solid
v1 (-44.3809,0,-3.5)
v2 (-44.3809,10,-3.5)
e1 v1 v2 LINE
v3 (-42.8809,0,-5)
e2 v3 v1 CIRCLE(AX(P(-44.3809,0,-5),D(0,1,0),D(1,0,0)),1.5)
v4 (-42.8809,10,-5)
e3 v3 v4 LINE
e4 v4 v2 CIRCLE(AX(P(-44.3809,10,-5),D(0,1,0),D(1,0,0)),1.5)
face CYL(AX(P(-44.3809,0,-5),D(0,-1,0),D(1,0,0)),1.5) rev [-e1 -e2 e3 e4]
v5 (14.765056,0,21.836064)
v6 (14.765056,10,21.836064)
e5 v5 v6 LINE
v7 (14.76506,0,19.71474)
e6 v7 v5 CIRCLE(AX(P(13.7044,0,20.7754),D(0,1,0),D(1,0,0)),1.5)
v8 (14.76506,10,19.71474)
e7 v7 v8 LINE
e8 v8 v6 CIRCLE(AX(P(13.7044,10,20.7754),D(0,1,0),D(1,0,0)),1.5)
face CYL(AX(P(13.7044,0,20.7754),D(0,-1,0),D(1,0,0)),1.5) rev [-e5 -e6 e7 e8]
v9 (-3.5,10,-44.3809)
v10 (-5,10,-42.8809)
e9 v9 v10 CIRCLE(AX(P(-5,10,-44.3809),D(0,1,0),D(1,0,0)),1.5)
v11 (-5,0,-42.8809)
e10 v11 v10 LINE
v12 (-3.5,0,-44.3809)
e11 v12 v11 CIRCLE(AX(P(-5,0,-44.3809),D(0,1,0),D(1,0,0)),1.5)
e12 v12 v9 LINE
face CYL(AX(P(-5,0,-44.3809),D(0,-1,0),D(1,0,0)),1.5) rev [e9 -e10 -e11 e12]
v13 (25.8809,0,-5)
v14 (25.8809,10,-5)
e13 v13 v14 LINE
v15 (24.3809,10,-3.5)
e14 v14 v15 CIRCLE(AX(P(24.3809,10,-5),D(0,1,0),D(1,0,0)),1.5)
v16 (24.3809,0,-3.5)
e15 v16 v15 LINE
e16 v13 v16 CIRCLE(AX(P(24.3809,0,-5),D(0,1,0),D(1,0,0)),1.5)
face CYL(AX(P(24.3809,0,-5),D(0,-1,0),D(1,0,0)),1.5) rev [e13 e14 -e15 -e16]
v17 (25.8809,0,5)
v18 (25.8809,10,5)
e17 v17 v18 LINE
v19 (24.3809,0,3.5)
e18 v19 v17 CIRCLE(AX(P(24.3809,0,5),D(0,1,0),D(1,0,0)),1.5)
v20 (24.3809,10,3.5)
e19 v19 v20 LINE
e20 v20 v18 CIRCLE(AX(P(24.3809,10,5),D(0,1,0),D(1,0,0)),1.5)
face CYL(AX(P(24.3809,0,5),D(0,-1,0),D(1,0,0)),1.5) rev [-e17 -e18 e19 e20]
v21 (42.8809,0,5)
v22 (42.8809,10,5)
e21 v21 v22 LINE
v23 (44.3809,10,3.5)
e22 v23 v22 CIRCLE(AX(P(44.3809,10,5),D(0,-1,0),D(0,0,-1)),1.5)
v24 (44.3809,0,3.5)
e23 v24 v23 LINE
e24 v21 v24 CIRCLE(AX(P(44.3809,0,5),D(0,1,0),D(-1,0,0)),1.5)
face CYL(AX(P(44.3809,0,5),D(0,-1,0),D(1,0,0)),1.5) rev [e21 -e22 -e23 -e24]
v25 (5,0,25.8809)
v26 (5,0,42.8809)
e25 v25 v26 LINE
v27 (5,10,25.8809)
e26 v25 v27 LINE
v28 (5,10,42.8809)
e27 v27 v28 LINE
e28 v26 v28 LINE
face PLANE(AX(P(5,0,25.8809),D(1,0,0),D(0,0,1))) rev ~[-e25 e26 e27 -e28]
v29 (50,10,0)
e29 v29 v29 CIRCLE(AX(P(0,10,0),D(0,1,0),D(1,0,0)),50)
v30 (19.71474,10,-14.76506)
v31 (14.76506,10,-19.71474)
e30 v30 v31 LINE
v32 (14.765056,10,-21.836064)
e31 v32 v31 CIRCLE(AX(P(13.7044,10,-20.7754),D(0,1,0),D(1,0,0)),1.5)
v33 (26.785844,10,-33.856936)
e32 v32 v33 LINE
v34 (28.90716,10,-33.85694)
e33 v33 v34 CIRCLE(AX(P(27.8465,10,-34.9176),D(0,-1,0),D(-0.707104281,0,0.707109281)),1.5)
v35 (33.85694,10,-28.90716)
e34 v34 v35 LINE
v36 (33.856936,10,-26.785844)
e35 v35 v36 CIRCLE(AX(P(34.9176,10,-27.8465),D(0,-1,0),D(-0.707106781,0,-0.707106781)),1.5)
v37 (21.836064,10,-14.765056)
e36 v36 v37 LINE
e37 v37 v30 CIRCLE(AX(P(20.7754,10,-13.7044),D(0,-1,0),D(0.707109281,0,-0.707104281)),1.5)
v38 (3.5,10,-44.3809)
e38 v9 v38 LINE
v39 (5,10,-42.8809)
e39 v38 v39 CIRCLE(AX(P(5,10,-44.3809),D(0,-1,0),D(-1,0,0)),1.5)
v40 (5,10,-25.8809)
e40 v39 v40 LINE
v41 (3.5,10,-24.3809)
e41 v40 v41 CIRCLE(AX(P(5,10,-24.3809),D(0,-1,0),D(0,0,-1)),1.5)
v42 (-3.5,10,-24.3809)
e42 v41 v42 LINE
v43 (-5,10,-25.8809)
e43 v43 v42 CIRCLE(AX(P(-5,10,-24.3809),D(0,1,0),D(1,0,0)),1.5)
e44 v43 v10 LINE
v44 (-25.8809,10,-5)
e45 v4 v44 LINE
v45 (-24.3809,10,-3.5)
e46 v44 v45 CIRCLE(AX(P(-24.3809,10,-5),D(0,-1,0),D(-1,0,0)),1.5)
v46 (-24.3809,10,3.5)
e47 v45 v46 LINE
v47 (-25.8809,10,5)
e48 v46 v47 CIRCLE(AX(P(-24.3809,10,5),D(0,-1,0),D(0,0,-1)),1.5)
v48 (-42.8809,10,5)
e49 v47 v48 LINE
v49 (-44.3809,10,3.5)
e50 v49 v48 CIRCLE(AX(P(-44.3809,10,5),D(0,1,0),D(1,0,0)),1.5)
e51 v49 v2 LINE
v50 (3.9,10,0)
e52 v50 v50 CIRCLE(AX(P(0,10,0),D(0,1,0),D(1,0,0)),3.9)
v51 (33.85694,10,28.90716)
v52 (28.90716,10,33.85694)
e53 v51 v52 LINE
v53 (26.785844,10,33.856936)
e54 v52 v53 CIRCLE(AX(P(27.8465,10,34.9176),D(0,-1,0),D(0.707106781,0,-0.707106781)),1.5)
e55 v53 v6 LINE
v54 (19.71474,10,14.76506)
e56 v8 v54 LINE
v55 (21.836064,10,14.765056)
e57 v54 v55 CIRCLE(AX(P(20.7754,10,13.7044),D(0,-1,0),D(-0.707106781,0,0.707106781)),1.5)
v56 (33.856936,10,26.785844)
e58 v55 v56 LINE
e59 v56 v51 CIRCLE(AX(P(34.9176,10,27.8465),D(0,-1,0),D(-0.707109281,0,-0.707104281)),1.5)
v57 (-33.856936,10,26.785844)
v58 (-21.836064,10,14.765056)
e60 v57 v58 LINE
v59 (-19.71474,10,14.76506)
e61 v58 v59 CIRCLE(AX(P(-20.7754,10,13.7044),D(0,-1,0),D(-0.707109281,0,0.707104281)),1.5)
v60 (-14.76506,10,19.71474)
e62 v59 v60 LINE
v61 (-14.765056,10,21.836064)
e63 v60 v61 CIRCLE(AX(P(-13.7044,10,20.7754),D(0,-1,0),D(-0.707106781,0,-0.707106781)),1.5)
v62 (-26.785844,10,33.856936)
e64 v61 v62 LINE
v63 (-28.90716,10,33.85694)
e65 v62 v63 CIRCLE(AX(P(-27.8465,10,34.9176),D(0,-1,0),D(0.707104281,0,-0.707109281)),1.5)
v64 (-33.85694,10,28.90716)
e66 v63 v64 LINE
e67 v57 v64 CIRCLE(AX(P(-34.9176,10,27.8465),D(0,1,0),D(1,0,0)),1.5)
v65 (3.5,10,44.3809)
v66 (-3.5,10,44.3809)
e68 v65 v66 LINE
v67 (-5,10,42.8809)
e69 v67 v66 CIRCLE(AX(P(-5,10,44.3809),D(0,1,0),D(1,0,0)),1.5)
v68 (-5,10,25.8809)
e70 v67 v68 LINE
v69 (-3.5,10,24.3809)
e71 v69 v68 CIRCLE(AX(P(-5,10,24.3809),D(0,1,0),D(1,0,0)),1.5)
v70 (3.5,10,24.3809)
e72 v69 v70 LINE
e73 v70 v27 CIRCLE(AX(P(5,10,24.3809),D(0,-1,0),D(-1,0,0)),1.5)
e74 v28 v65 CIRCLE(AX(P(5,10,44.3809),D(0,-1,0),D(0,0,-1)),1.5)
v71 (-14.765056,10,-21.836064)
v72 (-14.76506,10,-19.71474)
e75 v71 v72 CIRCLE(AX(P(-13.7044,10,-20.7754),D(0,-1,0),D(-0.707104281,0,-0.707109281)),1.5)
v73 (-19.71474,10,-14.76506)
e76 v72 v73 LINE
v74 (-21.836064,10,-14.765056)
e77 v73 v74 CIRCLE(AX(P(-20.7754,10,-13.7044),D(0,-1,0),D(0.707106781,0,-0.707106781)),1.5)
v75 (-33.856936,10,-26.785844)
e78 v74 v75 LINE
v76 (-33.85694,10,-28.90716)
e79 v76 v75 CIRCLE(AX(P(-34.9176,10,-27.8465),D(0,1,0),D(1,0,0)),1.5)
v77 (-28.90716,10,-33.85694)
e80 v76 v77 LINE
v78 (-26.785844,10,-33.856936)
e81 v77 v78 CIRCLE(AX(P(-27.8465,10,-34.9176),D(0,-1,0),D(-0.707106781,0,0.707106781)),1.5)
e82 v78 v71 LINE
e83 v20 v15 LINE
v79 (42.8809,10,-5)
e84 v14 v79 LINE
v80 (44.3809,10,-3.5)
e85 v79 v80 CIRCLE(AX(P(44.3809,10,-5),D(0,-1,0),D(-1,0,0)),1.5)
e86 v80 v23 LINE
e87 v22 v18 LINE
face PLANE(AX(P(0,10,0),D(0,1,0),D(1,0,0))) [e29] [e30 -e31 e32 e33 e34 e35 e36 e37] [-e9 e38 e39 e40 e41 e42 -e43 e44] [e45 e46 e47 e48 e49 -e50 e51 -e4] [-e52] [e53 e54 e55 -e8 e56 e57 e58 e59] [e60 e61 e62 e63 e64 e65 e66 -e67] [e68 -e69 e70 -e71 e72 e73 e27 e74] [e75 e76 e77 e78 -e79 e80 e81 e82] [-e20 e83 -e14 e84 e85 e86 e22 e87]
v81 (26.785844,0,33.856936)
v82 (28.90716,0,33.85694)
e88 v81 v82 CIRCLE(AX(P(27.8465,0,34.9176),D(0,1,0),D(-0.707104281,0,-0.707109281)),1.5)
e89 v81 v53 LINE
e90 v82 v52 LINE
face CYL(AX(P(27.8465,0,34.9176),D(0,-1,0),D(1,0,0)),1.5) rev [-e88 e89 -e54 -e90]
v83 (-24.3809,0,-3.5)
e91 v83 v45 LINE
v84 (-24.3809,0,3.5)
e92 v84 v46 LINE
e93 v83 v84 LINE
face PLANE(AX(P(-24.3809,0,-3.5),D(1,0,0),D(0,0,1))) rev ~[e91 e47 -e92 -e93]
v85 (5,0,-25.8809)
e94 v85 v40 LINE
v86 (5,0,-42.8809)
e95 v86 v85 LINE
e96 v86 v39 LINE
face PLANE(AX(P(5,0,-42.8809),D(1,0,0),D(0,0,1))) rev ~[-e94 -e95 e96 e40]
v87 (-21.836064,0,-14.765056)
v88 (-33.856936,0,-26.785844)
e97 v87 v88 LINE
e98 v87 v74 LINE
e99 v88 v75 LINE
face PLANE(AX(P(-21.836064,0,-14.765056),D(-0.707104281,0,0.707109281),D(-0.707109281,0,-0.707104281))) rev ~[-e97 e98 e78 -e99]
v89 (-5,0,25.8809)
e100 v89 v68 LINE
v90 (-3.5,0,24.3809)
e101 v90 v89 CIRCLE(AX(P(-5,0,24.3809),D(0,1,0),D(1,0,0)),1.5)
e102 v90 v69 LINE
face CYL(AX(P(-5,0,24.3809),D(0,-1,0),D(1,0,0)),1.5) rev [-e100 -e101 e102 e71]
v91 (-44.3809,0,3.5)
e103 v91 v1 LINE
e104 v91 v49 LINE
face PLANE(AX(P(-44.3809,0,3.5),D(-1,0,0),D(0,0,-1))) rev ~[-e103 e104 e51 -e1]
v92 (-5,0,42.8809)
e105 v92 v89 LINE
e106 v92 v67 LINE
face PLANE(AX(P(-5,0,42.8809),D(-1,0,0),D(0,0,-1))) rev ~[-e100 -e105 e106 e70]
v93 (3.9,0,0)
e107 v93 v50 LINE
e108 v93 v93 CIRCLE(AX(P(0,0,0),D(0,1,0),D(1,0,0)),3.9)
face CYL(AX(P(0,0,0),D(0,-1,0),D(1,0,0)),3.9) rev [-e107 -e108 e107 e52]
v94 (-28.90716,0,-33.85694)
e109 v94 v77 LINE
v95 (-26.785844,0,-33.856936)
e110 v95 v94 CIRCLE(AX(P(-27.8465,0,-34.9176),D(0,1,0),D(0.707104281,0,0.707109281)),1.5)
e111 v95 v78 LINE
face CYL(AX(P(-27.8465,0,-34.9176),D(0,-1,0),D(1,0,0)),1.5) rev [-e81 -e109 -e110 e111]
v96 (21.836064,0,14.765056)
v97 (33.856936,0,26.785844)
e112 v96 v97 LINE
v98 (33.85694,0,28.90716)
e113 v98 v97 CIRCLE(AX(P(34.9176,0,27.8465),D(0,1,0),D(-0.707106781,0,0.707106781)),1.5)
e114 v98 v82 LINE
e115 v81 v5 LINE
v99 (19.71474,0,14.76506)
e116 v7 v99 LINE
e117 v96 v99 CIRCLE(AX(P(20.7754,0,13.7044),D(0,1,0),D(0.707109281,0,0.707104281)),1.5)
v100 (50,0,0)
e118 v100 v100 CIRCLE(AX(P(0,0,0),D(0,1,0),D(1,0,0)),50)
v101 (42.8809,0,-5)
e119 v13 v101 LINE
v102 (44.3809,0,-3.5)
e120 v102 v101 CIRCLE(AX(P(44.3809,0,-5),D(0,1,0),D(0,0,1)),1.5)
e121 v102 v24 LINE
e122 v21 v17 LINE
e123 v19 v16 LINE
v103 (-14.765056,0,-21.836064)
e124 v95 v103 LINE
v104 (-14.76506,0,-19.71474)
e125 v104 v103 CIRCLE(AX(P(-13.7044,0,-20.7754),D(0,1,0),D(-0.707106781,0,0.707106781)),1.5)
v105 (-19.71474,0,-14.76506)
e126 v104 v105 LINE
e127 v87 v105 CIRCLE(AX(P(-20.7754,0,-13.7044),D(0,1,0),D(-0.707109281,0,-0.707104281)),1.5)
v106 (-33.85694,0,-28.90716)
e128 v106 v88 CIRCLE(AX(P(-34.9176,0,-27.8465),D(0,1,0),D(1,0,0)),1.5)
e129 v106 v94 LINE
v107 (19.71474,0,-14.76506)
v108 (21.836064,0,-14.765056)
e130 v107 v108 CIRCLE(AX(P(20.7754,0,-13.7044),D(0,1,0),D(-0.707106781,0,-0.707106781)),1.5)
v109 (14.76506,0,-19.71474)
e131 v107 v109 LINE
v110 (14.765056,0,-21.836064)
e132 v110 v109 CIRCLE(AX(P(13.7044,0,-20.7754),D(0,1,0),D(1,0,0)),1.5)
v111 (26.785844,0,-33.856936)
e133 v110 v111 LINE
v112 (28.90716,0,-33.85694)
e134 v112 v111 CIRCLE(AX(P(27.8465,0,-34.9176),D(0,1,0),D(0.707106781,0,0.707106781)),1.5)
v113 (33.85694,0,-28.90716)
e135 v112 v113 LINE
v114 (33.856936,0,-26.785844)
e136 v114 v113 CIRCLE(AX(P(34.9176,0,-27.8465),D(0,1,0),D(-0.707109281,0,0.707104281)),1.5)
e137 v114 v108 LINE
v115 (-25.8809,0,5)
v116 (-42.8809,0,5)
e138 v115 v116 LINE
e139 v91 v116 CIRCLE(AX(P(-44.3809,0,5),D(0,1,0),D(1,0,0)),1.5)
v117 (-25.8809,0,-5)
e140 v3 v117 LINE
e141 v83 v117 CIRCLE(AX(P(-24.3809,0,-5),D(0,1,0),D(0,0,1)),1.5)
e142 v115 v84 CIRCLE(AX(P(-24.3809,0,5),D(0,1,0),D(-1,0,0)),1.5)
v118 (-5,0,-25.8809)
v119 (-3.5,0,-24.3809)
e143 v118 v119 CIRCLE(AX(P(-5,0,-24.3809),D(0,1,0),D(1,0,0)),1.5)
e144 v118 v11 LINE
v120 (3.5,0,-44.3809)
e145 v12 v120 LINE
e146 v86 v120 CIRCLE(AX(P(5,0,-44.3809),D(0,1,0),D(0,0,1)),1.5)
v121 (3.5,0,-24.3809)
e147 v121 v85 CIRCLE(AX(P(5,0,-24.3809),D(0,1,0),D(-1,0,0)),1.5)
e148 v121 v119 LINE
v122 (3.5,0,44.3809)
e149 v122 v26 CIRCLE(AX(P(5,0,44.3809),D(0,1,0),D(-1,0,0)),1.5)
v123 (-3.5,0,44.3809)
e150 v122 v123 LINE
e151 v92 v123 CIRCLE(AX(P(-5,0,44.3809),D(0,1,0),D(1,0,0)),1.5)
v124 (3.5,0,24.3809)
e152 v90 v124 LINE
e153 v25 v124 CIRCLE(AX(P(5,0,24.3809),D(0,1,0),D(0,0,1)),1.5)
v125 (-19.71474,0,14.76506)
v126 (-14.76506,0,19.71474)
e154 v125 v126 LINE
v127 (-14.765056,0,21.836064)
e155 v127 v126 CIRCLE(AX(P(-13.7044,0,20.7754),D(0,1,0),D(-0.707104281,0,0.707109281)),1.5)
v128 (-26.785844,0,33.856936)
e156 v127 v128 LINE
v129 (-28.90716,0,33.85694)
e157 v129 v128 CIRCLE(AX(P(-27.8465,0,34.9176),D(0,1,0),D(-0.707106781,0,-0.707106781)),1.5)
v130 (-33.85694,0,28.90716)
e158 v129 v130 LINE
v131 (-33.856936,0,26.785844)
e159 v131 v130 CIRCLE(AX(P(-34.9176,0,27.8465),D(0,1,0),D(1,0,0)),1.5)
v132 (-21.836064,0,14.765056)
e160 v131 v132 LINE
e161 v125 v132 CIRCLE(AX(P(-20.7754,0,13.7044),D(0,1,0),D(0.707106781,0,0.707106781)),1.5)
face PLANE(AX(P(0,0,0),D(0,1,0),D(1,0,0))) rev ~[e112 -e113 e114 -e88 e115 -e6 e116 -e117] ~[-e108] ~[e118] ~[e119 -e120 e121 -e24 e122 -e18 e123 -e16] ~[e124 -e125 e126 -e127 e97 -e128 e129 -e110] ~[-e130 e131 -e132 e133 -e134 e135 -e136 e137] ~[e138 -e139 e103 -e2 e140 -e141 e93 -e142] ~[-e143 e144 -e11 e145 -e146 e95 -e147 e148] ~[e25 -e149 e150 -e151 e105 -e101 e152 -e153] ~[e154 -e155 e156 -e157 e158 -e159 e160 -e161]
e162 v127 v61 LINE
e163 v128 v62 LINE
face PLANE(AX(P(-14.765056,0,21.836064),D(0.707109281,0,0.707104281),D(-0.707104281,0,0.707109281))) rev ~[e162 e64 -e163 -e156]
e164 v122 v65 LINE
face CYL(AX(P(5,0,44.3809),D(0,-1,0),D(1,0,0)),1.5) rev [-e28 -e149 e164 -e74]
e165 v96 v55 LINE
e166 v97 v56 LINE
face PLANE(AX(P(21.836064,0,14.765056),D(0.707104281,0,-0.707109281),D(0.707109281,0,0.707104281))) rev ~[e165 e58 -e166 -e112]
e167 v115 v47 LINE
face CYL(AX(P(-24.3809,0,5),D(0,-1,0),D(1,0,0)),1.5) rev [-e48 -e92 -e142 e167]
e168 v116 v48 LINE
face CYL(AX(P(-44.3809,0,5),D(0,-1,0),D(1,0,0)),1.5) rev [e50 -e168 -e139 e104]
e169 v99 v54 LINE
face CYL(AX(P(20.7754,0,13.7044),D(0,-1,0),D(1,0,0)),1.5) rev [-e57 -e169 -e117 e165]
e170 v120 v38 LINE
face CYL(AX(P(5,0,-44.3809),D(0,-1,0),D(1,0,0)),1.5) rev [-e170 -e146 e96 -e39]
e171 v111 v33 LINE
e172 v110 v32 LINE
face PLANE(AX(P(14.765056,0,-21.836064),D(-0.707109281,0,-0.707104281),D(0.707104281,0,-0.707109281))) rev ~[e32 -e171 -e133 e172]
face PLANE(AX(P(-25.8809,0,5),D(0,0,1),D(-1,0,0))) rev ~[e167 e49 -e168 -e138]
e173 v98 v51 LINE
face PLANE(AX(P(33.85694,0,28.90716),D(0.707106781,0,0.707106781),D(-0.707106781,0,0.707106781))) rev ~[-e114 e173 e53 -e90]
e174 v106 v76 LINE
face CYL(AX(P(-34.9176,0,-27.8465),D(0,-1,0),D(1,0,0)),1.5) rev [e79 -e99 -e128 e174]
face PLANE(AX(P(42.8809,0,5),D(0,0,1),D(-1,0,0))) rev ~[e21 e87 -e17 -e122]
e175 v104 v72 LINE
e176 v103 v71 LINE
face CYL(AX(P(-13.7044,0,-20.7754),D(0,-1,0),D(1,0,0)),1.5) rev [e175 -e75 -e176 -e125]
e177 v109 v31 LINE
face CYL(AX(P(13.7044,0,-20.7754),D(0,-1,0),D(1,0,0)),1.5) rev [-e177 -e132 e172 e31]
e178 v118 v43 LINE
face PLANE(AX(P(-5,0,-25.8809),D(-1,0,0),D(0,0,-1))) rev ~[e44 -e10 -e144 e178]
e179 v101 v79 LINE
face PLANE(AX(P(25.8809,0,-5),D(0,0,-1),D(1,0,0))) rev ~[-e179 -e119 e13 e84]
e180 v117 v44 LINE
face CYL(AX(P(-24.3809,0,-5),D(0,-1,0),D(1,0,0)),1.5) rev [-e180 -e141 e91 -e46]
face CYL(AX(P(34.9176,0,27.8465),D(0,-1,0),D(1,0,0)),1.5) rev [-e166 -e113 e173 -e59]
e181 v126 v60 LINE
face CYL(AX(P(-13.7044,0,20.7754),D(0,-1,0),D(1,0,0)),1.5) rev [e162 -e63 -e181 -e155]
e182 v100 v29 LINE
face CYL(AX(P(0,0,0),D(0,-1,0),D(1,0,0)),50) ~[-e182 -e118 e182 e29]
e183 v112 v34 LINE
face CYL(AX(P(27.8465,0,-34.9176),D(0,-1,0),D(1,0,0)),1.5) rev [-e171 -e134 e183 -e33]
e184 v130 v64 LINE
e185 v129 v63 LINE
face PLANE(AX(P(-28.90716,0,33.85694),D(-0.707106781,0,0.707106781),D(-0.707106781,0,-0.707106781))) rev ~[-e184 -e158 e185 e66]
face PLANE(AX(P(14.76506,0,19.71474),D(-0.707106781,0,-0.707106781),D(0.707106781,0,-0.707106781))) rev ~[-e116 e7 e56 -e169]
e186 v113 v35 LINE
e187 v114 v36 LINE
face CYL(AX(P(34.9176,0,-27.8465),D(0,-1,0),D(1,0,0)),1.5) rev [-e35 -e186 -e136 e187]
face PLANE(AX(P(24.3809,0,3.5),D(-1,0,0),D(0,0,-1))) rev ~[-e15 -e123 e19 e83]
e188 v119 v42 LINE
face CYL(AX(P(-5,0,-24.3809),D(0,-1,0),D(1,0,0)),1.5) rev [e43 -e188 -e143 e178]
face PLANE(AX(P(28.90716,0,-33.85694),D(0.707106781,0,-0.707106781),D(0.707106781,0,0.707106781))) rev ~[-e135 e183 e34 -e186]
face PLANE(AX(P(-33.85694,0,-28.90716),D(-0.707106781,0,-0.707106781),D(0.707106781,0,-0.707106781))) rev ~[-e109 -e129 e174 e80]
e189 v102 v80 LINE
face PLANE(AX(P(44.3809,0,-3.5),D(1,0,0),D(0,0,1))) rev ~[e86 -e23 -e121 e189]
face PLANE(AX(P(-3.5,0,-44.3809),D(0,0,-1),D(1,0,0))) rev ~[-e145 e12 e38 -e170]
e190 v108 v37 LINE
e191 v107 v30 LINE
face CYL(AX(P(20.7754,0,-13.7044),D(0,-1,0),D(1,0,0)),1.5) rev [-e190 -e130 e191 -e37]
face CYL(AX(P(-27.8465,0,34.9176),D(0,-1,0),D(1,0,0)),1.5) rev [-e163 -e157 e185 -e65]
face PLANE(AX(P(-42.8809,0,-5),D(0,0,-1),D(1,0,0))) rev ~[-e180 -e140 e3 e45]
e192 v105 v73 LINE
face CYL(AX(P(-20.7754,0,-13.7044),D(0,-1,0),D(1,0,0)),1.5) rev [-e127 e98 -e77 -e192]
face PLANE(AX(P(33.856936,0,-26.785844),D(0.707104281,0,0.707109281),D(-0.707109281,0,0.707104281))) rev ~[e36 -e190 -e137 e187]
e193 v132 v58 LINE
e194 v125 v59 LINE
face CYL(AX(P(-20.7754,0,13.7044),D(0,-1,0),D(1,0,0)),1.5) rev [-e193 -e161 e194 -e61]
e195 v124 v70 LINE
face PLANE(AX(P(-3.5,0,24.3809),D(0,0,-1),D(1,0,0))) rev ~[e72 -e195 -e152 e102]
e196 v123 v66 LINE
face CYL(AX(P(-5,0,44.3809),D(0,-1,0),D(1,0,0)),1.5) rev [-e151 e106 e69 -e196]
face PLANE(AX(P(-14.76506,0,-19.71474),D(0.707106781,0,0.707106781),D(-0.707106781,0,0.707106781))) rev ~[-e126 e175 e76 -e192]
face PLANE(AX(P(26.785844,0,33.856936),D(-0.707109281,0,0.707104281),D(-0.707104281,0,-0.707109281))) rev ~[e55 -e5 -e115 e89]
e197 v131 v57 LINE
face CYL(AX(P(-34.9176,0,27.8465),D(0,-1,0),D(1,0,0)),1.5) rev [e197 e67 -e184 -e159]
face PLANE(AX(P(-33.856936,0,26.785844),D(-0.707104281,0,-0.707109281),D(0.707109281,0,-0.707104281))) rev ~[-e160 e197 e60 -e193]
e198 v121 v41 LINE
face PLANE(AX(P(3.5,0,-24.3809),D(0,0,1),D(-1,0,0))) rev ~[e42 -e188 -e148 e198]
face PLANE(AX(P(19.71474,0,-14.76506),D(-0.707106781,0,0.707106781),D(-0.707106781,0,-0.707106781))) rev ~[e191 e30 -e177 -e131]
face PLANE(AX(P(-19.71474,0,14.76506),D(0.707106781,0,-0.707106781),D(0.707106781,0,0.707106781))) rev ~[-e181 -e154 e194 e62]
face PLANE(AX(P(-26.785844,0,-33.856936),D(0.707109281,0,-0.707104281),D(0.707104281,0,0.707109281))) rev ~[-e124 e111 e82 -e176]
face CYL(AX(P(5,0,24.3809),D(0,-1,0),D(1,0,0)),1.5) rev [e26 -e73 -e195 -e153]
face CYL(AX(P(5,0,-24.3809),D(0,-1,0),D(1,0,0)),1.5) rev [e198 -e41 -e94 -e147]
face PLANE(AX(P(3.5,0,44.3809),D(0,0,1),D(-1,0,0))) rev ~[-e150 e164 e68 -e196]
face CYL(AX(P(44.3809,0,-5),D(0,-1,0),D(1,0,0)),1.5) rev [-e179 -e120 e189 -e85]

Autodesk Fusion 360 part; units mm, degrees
sketch "Eskiz1" plane through (0, 0, 0) normal (0, 1, 0) x (1, 0, 0)
  circle A0 centre (0, 0) radius 20
  circle A1 centre (0, 0) radius 50
  line L0 (-5, 44.3809) -> (5, 44.3809)
  line L1 (5, 44.3809) -> (5, 24.3809)
  line L2 (5, 24.3809) -> (-5, 24.3809)
  line L3 (-5, 24.3809) -> (-5, 44.3809)
  circle A2 centre (-5, 24.3809) radius 1.5
  circle A3 centre (5, 24.3809) radius 1.5
  circle A4 centre (-5, 44.3809) radius 1.5
  circle A5 centre (5, 44.3809) radius 1.5
  circle A6 centre (-34.9176, 27.8465) radius 1.5
  line L4 (-34.9176, 27.8465) -> (-27.8465, 34.9176)
  line L5 (-20.7754, 13.7044) -> (-34.9176, 27.8465)
  line L6 (-13.7044, 20.7754) -> (-20.7754, 13.7044)
  line L7 (-27.8465, 34.9176) -> (-13.7044, 20.7754)
  circle A7 centre (-27.8465, 34.9176) radius 1.5
  circle A8 centre (-20.7754, 13.7044) radius 1.5
  circle A9 centre (-13.7044, 20.7754) radius 1.5
  circle A10 centre (-44.3809, -5) radius 1.5
  line L8 (-44.3809, -5) -> (-44.3809, 5)
  line L9 (-24.3809, -5) -> (-44.3809, -5)
  line L10 (-24.3809, 5) -> (-24.3809, -5)
  line L11 (-44.3809, 5) -> (-24.3809, 5)
  circle A11 centre (-44.3809, 5) radius 1.5
  circle A12 centre (-24.3809, -5) radius 1.5
  circle A13 centre (-24.3809, 5) radius 1.5
  circle A14 centre (-27.8465, -34.9176) radius 1.5
  line L12 (-27.8465, -34.9176) -> (-34.9176, -27.8465)
  line L13 (-13.7044, -20.7754) -> (-27.8465, -34.9176)
  line L14 (-20.7754, -13.7044) -> (-13.7044, -20.7754)
  line L15 (-34.9176, -27.8465) -> (-20.7754, -13.7044)
  circle A15 centre (-34.9176, -27.8465) radius 1.5
  circle A16 centre (-13.7044, -20.7754) radius 1.5
  circle A17 centre (-20.7754, -13.7044) radius 1.5
  circle A18 centre (5, -44.3809) radius 1.5
  line L16 (5, -44.3809) -> (-5, -44.3809)
  line L17 (5, -24.3809) -> (5, -44.3809)
  line L18 (-5, -24.3809) -> (5, -24.3809)
  line L19 (-5, -44.3809) -> (-5, -24.3809)
  circle A19 centre (-5, -44.3809) radius 1.5
  circle A20 centre (5, -24.3809) radius 1.5
  circle A21 centre (-5, -24.3809) radius 1.5
  circle A22 centre (34.9176, -27.8465) radius 1.5
  line L20 (34.9176, -27.8465) -> (27.8465, -34.9176)
  line L21 (20.7754, -13.7044) -> (34.9176, -27.8465)
  line L22 (13.7044, -20.7754) -> (20.7754, -13.7044)
  line L23 (27.8465, -34.9176) -> (13.7044, -20.7754)
  circle A23 centre (27.8465, -34.9176) radius 1.5
  circle A24 centre (20.7754, -13.7044) radius 1.5
  circle A25 centre (13.7044, -20.7754) radius 1.5
  circle A26 centre (44.3809, 5) radius 1.5
  line L24 (44.3809, 5) -> (44.3809, -5)
  line L25 (24.3809, 5) -> (44.3809, 5)
  line L26 (24.3809, -5) -> (24.3809, 5)
  line L27 (44.3809, -5) -> (24.3809, -5)
  circle A27 centre (44.3809, -5) radius 1.5
  circle A28 centre (24.3809, 5) radius 1.5
  circle A29 centre (24.3809, -5) radius 1.5
  circle A30 centre (27.8465, 34.9176) radius 1.5
  line L28 (27.8465, 34.9176) -> (34.9176, 27.8465)
  line L29 (13.7044, 20.7754) -> (27.8465, 34.9176)
  line L30 (20.7754, 13.7044) -> (13.7044, 20.7754)
  line L31 (34.9176, 27.8465) -> (20.7754, 13.7044)
  circle A31 centre (34.9176, 27.8465) radius 1.5
  circle A32 centre (13.7044, 20.7754) radius 1.5
  circle A33 centre (20.7754, 13.7044) radius 1.5
  circle A34 centre (0, 0) radius 3.9
  point P0 (-5, 0)
  point P1 (5, 0)
  dimension "d1" = 40
  dimension "d2" = 100
  dimension "d3" = 5
  dimension "d4" = 5
  dimension "d5" = 10
  dimension "d6" = 20
  dimension "d9" = 44.3809
  dimension "d10" = 3
  dimension "d11" = 3
  dimension "d12" = 3
  dimension "d13" = 3
  dimension "d15" = 360
  dimension "d16" = 7.8
extrude "Ekstrüde Et1" add sketch "Eskiz1" along normal blind 10 contours A0 | A1
extrude "Ekstrüde Et2" add sketch "Eskiz1" along normal blind 6.5 contours A0
sketch "Eskiz2" plane through (0, 10, 0) normal (0, 1, 0) x (-1, 0, 0)
  arc A0 (-14.765, -21.8361) -> (-14.765, -19.7148) centre (-13.7044, -20.7754) ccw
  line L0 (-14.765, -21.8361) -> (-26.7858, -33.8569)
  arc A1 (-28.9072, -33.8569) -> (-26.7858, -33.8569) centre (-27.8465, -34.9176) ccw
  line L1 (-28.9072, -33.8569) -> (-33.8569, -28.9072)
  arc A2 (-33.8569, -26.7858) -> (-33.8569, -28.9072) centre (-34.9176, -27.8465) ccw
  line L2 (-33.8569, -26.7858) -> (-21.8361, -14.765)
  arc A3 (-19.7148, -14.765) -> (-21.8361, -14.765) centre (-20.7754, -13.7044) ccw
  line L3 (-19.7148, -14.765) -> (-14.765, -19.7148)
  circle A4 centre (0, 0) radius 3.9
  arc A5 (-3.5, -24.3809) -> (-5, -25.8809) centre (-5, -24.3809) ccw
  line L4 (-3.5, -24.3809) -> (3.5, -24.3809)
  arc A6 (5, -25.8809) -> (3.5, -24.3809) centre (5, -24.3809) ccw
  line L5 (5, -25.8809) -> (5, -42.8809)
  arc A7 (3.5, -44.3809) -> (5, -42.8809) centre (5, -44.3809) ccw
  line L6 (3.5, -44.3809) -> (-3.5, -44.3809)
  arc A8 (-5, -42.8809) -> (-3.5, -44.3809) centre (-5, -44.3809) ccw
  line L7 (-5, -42.8809) -> (-5, -25.8809)
  arc A9 (21.8361, -14.765) -> (19.7148, -14.765) centre (20.7754, -13.7044) ccw
  line L8 (21.8361, -14.765) -> (33.8569, -26.7858)
  arc A10 (33.8569, -28.9072) -> (33.8569, -26.7858) centre (34.9176, -27.8465) ccw
  line L9 (33.8569, -28.9072) -> (28.9072, -33.8569)
  arc A11 (26.7858, -33.8569) -> (28.9072, -33.8569) centre (27.8465, -34.9176) ccw
  line L10 (26.7858, -33.8569) -> (14.765, -21.8361)
  arc A12 (14.765, -19.7148) -> (14.765, -21.8361) centre (13.7044, -20.7754) ccw
  line L11 (14.765, -19.7148) -> (19.7148, -14.765)
  arc A13 (25.8809, 5) -> (24.3809, 3.5) centre (24.3809, 5) ccw
  line L12 (25.8809, 5) -> (42.8809, 5)
  arc A14 (44.3809, 3.5) -> (42.8809, 5) centre (44.3809, 5) ccw
  line L13 (44.3809, 3.5) -> (44.3809, -3.5)
  arc A15 (42.8809, -5) -> (44.3809, -3.5) centre (44.3809, -5) ccw
  line L14 (42.8809, -5) -> (25.8809, -5)
  arc A16 (24.3809, -3.5) -> (25.8809, -5) centre (24.3809, -5) ccw
  line L15 (24.3809, -3.5) -> (24.3809, 3.5)
  arc A17 (14.765, 21.8361) -> (14.765, 19.7148) centre (13.7044, 20.7754) ccw
  line L16 (14.765, 21.8361) -> (26.7858, 33.8569)
  arc A18 (28.9072, 33.8569) -> (26.7858, 33.8569) centre (27.8465, 34.9176) ccw
  line L17 (28.9072, 33.8569) -> (33.8569, 28.9072)
  arc A19 (33.8569, 26.7858) -> (33.8569, 28.9072) centre (34.9176, 27.8465) ccw
  line L18 (33.8569, 26.7858) -> (21.8361, 14.765)
  arc A20 (19.7148, 14.765) -> (21.8361, 14.765) centre (20.7754, 13.7044) ccw
  line L19 (19.7148, 14.765) -> (14.765, 19.7148)
  arc A21 (-5, 25.8809) -> (-3.5, 24.3809) centre (-5, 24.3809) ccw
  line L20 (-5, 25.8809) -> (-5, 42.8809)
  arc A22 (-3.5, 44.3809) -> (-5, 42.8809) centre (-5, 44.3809) ccw
  line L21 (-3.5, 44.3809) -> (3.5, 44.3809)
  arc A23 (5, 42.8809) -> (3.5, 44.3809) centre (5, 44.3809) ccw
  line L22 (5, 42.8809) -> (5, 25.8809)
  arc A24 (3.5, 24.3809) -> (5, 25.8809) centre (5, 24.3809) ccw
  line L23 (3.5, 24.3809) -> (-3.5, 24.3809)
  arc A25 (-33.8569, 28.9072) -> (-33.8569, 26.7858) centre (-34.9176, 27.8465) ccw
  line L24 (-33.8569, 28.9072) -> (-28.9072, 33.8569)
  arc A26 (-26.7858, 33.8569) -> (-28.9072, 33.8569) centre (-27.8465, 34.9176) ccw
  line L25 (-26.7858, 33.8569) -> (-14.765, 21.8361)
  arc A27 (-14.765, 19.7148) -> (-14.765, 21.8361) centre (-13.7044, 20.7754) ccw
  line L26 (-14.765, 19.7148) -> (-19.7148, 14.765)
  arc A28 (-21.8361, 14.765) -> (-19.7148, 14.765) centre (-20.7754, 13.7044) ccw
  line L27 (-21.8361, 14.765) -> (-33.8569, 26.7858)
  arc A29 (-44.3809, -3.5) -> (-42.8809, -5) centre (-44.3809, -5) ccw
  line L28 (-44.3809, -3.5) -> (-44.3809, 3.5)
  arc A30 (-42.8809, 5) -> (-44.3809, 3.5) centre (-44.3809, 5) ccw
  line L29 (-42.8809, 5) -> (-25.8809, 5)
  arc A31 (-24.3809, 3.5) -> (-25.8809, 5) centre (-24.3809, 5) ccw
  line L30 (-24.3809, 3.5) -> (-24.3809, -3.5)
  arc A32 (-25.8809, -5) -> (-24.3809, -3.5) centre (-24.3809, -5) ccw
  line L31 (-25.8809, -5) -> (-42.8809, -5)
  circle A33 centre (0, 0) radius 50
